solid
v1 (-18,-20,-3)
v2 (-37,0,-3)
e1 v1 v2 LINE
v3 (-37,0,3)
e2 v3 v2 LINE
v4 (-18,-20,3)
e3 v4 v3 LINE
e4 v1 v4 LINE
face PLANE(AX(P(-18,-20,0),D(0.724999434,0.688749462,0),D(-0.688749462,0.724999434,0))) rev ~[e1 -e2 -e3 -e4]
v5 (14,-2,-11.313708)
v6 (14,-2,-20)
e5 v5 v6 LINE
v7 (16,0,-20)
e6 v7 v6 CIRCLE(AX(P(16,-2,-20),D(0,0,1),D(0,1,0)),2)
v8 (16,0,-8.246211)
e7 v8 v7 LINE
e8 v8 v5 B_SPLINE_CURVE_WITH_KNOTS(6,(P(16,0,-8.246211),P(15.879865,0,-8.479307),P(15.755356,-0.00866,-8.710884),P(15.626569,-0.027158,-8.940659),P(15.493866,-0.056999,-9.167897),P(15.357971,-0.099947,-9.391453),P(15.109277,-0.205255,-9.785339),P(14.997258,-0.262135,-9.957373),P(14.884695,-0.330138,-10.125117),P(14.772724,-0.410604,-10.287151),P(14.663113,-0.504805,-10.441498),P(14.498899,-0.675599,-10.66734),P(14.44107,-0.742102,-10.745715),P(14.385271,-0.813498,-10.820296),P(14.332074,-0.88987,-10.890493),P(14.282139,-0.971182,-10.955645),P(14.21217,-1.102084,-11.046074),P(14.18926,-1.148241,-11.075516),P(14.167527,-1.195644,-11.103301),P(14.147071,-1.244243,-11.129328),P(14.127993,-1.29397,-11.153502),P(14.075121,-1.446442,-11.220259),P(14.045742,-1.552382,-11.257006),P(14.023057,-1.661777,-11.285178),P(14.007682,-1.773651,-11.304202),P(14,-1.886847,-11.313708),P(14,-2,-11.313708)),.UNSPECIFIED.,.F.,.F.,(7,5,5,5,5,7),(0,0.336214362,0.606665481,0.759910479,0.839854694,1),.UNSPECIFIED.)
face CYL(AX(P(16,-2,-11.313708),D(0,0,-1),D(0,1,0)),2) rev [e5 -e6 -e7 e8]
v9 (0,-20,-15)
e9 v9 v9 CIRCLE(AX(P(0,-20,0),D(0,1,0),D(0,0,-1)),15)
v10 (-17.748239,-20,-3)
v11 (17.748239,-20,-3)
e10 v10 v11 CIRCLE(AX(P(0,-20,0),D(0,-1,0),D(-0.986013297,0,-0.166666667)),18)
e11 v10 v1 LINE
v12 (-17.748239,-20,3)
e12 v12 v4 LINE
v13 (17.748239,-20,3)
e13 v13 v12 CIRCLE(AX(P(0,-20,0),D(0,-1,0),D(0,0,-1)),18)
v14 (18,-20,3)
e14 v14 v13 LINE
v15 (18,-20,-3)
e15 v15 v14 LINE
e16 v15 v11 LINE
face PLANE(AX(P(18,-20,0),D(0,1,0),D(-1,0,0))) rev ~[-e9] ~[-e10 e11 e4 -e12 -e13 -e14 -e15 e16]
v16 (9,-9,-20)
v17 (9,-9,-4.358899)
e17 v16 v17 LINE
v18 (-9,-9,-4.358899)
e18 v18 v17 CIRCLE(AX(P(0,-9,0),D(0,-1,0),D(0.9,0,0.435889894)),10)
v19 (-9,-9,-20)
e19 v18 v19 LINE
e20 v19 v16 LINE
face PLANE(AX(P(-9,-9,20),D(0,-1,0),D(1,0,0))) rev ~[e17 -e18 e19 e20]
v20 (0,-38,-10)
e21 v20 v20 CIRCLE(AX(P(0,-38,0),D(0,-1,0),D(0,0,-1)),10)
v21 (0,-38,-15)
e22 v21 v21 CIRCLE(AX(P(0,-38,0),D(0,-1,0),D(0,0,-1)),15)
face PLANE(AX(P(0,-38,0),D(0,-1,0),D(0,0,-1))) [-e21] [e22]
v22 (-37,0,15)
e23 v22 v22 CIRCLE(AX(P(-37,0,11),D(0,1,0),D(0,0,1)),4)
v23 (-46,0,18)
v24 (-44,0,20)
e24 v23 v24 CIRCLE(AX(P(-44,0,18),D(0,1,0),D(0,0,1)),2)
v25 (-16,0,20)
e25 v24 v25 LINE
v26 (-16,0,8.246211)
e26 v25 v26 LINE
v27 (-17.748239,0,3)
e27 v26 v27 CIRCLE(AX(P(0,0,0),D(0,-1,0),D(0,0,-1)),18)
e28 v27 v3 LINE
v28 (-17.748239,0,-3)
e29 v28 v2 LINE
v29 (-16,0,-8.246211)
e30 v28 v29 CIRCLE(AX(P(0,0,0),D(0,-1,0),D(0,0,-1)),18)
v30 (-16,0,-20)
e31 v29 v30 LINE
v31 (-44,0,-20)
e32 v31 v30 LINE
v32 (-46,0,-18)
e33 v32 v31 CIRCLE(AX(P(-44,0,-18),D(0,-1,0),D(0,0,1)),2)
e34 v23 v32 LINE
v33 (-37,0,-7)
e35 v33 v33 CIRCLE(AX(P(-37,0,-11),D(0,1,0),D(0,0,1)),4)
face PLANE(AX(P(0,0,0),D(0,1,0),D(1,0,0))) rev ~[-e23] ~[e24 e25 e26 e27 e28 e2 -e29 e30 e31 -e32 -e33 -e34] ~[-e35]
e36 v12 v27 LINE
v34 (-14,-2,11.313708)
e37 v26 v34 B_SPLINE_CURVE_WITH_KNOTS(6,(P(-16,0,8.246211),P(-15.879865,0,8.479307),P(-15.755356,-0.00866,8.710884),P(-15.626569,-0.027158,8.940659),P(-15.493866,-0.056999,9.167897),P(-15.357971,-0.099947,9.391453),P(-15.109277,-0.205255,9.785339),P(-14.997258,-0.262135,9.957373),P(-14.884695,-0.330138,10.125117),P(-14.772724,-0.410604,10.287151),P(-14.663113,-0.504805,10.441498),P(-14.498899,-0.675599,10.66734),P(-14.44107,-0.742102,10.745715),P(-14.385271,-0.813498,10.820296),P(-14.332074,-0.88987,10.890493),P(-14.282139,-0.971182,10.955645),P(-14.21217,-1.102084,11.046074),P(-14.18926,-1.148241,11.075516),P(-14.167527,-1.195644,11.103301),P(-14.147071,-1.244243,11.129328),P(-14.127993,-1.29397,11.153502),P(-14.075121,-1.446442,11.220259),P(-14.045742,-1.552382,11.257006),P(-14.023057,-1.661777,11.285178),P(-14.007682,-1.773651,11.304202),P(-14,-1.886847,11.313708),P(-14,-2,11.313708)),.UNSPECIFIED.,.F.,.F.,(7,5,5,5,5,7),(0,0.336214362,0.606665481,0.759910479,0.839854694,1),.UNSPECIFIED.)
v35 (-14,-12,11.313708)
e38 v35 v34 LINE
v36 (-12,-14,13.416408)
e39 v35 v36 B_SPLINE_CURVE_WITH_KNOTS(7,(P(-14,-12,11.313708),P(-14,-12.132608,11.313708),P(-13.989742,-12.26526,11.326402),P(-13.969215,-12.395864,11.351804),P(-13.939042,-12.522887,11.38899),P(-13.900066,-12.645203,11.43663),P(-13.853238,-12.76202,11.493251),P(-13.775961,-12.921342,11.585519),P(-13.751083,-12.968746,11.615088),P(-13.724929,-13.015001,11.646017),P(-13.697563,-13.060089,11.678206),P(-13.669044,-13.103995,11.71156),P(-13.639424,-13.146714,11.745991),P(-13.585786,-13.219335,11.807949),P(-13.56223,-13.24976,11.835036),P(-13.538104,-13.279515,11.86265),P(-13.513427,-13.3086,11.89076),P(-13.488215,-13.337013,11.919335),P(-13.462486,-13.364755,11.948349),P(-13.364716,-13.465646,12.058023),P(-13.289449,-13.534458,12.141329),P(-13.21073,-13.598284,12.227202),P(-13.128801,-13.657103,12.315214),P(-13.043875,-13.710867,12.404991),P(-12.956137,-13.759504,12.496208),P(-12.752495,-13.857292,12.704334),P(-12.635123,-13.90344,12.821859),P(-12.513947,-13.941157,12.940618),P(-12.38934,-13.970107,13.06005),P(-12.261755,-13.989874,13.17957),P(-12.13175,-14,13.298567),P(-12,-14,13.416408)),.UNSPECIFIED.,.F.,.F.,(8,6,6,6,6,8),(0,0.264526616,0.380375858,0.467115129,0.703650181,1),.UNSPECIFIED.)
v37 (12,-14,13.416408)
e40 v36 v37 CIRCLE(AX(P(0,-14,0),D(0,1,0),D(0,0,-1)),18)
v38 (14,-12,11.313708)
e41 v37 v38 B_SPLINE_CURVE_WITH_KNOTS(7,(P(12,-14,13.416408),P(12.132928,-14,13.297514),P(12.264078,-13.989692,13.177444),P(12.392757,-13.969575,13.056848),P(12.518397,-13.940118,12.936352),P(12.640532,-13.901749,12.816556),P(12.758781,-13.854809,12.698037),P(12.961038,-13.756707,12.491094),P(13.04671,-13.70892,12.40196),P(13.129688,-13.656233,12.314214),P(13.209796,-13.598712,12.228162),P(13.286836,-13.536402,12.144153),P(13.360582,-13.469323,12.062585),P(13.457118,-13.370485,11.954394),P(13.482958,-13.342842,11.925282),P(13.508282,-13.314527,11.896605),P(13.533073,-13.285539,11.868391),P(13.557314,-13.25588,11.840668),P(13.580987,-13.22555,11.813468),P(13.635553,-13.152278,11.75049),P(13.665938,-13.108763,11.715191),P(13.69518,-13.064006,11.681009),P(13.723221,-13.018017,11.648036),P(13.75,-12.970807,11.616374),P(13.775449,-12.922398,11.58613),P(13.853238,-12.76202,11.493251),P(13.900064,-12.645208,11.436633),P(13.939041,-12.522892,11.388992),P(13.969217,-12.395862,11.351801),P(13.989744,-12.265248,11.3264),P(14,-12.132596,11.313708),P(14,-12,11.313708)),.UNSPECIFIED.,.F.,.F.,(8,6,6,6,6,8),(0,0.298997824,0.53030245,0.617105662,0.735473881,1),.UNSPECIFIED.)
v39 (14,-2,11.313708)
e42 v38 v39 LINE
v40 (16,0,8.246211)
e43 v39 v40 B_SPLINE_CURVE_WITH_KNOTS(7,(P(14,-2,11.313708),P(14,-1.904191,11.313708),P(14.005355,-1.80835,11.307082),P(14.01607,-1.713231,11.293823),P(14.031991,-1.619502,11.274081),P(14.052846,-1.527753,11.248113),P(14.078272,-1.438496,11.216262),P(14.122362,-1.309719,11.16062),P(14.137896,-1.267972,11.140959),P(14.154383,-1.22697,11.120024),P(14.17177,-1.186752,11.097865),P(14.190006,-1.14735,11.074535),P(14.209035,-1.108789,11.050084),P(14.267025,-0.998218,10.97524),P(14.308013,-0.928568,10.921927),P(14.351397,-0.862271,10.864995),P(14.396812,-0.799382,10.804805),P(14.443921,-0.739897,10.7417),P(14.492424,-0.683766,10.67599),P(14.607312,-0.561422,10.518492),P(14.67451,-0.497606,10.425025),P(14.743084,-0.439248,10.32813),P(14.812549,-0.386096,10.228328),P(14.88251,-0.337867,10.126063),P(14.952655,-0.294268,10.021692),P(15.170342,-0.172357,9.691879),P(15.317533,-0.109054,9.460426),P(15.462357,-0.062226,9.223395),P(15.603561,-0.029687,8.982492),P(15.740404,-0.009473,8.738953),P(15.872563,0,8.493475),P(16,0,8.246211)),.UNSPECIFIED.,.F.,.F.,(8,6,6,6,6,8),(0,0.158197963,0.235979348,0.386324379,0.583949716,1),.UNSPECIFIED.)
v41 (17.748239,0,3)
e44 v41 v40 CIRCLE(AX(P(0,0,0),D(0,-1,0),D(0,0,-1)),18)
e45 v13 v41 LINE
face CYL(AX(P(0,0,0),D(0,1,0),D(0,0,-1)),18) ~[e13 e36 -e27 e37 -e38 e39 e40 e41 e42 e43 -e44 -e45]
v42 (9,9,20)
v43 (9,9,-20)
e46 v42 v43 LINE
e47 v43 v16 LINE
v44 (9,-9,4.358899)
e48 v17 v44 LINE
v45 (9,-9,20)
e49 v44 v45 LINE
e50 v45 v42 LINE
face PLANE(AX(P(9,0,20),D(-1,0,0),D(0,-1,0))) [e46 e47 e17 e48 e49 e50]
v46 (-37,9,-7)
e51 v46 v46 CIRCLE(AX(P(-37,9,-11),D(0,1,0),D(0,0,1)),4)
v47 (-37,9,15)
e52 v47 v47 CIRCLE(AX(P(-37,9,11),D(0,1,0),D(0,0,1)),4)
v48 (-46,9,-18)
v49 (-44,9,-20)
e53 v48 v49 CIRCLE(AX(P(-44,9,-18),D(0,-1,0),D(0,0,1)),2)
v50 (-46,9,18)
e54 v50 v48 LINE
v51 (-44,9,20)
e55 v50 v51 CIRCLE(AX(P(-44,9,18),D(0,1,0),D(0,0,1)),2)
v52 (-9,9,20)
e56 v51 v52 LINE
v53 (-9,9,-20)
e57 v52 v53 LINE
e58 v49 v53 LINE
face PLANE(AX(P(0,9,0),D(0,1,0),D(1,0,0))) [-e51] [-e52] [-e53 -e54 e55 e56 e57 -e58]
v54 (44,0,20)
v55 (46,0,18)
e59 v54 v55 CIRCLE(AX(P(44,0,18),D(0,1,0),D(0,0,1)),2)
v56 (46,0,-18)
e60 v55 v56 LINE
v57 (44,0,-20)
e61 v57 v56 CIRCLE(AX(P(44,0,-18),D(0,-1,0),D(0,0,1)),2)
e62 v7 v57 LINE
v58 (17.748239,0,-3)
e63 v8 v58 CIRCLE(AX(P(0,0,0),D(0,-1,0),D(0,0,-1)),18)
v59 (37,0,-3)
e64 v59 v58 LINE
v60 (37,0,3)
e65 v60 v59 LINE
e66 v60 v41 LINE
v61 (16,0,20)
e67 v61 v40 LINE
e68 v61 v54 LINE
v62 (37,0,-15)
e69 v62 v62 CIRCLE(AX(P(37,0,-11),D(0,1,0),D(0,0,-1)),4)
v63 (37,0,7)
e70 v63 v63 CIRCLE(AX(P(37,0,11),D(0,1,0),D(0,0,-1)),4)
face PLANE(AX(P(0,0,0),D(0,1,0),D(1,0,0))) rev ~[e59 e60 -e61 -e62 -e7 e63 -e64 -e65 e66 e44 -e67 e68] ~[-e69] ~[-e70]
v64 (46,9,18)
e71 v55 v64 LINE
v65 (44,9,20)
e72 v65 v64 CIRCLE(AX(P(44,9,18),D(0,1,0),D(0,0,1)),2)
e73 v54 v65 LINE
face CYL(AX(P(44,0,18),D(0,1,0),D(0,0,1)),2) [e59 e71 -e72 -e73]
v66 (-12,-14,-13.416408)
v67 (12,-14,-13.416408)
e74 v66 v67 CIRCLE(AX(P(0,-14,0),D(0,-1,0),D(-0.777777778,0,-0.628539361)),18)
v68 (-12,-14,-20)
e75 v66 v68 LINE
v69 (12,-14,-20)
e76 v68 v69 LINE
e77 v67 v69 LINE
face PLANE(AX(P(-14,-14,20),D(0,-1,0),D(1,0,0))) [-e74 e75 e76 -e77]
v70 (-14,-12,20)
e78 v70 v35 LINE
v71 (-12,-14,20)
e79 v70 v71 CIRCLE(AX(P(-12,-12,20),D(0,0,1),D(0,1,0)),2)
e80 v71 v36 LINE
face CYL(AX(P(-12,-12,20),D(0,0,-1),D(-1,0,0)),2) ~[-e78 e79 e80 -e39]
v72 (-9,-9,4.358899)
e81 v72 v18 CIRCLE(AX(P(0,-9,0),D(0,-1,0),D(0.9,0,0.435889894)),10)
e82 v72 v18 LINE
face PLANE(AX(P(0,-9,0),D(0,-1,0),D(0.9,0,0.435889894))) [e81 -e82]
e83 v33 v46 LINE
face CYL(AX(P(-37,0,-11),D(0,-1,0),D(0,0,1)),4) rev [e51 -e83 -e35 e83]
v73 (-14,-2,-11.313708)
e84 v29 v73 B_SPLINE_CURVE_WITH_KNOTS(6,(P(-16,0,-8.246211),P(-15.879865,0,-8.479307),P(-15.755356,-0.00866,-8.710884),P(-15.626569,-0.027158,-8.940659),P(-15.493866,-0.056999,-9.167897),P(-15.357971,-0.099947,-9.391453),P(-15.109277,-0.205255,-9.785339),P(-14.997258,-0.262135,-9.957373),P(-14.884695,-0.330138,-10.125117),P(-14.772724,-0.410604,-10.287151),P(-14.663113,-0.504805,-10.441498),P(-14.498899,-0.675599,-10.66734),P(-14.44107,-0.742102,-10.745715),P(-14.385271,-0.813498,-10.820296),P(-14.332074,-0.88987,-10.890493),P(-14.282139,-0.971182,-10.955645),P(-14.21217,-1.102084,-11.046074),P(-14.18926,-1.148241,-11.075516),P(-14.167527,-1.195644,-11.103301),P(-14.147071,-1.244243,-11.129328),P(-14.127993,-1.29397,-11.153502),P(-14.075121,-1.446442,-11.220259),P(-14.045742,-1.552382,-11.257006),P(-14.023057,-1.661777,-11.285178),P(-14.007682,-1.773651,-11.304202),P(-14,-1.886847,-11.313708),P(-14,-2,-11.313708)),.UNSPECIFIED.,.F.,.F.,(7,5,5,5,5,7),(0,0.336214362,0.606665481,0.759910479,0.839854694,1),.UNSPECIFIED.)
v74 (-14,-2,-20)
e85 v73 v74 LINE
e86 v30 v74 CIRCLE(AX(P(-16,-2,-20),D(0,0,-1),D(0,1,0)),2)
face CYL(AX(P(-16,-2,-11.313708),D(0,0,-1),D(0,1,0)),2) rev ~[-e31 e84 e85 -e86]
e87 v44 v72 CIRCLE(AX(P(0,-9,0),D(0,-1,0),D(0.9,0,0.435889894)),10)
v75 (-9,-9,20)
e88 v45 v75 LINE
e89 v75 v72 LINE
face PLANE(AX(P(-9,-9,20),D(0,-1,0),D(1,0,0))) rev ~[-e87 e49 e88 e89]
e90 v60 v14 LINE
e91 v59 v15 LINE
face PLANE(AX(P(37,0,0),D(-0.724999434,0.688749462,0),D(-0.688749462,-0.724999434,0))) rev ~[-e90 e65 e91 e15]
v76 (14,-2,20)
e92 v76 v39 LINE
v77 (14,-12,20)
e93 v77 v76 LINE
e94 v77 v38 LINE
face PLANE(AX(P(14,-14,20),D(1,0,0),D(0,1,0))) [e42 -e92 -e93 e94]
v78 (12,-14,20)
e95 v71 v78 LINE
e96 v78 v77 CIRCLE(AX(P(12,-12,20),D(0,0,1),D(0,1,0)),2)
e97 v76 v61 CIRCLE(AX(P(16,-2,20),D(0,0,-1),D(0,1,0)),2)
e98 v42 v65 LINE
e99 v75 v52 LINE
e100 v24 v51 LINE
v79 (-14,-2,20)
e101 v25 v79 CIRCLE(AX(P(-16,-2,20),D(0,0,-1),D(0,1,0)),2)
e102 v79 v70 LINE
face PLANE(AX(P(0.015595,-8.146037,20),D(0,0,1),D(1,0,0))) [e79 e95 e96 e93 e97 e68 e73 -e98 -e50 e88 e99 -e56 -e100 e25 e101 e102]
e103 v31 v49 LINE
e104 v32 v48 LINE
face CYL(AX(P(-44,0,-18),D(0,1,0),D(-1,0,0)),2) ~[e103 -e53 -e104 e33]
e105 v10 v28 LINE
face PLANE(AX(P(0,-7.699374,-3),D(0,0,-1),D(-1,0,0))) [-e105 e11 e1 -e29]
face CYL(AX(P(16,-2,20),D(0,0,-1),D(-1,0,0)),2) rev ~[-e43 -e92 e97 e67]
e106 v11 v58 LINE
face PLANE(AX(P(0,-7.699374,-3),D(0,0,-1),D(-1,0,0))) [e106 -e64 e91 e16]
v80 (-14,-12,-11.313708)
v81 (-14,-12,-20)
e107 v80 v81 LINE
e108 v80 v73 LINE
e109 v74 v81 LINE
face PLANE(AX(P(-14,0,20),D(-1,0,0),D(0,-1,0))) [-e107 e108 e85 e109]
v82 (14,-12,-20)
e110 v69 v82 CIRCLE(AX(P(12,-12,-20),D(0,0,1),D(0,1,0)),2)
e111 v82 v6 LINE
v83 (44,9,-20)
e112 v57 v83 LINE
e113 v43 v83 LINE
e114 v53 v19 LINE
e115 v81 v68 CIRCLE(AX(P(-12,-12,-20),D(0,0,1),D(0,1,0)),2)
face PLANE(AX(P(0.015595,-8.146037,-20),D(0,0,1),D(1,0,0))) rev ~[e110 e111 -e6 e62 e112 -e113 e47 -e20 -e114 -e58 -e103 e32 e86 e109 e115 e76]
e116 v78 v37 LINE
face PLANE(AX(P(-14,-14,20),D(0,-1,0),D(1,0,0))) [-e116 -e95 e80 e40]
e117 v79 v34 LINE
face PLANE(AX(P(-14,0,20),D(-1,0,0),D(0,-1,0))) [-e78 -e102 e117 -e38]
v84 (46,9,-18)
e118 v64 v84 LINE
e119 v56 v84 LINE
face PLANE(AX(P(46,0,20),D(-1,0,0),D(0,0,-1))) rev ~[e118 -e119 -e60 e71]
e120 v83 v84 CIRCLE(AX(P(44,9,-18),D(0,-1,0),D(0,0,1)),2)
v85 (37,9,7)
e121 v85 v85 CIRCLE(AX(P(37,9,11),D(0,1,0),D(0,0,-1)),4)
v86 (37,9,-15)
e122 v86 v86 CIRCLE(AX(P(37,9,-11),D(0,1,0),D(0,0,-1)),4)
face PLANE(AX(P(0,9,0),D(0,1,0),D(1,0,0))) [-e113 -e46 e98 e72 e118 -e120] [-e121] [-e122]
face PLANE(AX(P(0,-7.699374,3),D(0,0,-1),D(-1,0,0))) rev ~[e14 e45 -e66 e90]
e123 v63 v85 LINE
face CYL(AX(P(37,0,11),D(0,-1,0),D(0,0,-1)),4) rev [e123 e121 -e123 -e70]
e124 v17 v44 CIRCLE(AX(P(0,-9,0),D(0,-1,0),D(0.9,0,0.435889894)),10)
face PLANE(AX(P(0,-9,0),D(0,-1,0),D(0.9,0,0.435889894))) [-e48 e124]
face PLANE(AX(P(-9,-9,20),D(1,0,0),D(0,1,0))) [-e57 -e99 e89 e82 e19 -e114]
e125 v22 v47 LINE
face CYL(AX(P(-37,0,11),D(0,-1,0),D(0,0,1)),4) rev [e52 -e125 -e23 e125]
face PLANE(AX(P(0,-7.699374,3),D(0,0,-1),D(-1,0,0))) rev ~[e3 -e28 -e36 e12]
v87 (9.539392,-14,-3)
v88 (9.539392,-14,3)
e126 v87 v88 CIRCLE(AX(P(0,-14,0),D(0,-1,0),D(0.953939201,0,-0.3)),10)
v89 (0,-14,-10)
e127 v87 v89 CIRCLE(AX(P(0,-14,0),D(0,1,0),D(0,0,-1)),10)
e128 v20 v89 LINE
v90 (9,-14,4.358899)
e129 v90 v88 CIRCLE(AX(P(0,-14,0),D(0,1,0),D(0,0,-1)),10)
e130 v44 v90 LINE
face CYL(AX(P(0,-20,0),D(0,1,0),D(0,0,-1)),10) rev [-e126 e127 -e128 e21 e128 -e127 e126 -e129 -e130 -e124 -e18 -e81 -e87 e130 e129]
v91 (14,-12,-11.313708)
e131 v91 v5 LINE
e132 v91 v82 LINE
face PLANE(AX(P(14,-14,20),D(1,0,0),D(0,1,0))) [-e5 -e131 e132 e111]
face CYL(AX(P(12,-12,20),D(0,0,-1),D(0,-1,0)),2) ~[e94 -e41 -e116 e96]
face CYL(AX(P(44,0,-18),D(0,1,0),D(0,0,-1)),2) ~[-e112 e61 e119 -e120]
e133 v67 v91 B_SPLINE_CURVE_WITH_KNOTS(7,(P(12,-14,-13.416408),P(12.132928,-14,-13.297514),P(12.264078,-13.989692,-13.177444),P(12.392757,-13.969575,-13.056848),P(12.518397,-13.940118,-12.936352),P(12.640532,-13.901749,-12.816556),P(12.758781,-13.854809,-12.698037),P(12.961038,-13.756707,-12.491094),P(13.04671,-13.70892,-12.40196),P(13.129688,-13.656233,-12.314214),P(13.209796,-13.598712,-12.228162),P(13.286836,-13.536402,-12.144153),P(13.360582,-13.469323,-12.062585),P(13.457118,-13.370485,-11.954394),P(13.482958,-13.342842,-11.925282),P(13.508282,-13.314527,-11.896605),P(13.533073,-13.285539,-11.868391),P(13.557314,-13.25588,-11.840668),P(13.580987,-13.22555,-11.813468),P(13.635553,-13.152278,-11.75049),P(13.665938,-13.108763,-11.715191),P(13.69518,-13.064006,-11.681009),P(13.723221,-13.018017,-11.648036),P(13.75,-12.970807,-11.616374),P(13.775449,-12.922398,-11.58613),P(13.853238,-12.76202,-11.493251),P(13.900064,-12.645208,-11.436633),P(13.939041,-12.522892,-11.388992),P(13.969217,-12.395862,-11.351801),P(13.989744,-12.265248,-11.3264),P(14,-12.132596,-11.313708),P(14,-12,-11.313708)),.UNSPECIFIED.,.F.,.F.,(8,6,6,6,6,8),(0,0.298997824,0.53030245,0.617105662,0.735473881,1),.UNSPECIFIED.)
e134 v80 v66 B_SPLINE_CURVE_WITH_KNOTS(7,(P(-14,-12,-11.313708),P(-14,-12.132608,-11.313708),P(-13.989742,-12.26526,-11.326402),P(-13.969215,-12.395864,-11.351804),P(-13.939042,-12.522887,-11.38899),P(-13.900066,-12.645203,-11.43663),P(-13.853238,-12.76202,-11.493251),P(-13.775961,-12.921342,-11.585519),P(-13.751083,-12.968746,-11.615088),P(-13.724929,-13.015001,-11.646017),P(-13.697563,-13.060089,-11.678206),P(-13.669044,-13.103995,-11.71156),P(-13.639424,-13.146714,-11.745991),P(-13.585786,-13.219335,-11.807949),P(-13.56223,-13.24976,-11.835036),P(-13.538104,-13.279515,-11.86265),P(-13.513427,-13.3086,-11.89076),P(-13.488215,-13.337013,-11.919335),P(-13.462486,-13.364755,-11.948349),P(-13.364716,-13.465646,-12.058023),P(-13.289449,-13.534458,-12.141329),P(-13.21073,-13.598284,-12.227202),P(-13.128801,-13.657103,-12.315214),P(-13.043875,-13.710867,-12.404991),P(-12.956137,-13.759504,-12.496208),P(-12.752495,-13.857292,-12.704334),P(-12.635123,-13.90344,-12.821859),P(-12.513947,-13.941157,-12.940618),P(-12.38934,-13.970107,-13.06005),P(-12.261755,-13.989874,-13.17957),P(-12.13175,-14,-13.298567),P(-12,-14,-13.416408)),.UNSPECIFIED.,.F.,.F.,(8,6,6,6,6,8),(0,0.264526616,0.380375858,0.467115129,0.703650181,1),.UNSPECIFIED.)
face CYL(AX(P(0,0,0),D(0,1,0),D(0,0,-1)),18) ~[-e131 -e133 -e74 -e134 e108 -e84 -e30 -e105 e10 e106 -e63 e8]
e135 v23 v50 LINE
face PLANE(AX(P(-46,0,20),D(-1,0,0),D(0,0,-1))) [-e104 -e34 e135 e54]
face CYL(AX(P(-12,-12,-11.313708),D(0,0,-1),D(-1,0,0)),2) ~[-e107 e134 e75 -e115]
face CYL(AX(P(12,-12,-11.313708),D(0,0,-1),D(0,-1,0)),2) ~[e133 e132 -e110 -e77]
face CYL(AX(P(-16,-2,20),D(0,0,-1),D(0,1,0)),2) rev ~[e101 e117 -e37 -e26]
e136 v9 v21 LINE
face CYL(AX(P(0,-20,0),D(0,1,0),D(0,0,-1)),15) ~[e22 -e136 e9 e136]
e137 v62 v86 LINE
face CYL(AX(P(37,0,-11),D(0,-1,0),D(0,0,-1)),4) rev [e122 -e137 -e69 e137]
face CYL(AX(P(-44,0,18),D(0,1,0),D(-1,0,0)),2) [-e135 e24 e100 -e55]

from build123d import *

# Parameters (mm, degrees)
SKETCH1_W           = 92
SKETCH1_H           = 40
SKETCH1_R           = 4
BOSS_EXTRUDE2_DEPTH = 9
SKETCH3_R           = 18
SKETCH3_R_2         = 10
BOSS_EXTRUDE3_DEPTH = 20
SKETCH4_R           = 15
SKETCH4_R_2         = 10
BOSS_EXTRUDE4_DEPTH = 18
CUT_EXTRUDE1_REACH  = 73.833
SKETCH8_W           = 18
SKETCH8_H           = 18
CUT_EXTRUDE2_REACH  = 73.833
SKETCH9_W           = 28
SKETCH9_H           = 14
BOSS_EXTRUDE5_DEPTH = 40
BOSS_EXTRUDE9_DEPTH = 3
CUT_EXTRUDE5_REACH  = 73.833
SKETCH8_3_W         = 18
SKETCH8_3_H         = 18
CUT_EXTRUDE6_START  = -6
CUT_EXTRUDE6_DEPTH  = 6
CUT_EXTRUDE7_START  = -5
SKETCH19_R          = 10
CUT_EXTRUDE7_DEPTH  = 5
FILLET1_R           = 2
FILLET2_R           = 2


with BuildPart() as part:
    # Sketch1 → Boss-Extrude2 (new body)
    with BuildSketch(Plane(origin=(0, 0, 0), x_dir=(1, 0, 0), z_dir=(0, 1, 0))):
        Rectangle(SKETCH1_W, SKETCH1_H)
        with Locations(Location((-37, 11, 0), (0, 0, 270))):
            Circle(SKETCH1_R, mode=Mode.SUBTRACT)
        with Locations(Location((-37, -11, 0), (0, 0, 270))):
            Circle(SKETCH1_R, mode=Mode.SUBTRACT)
        with Locations(Location((37, -11, 0), (0, 0, 90))):
            Circle(SKETCH1_R, mode=Mode.SUBTRACT)
        with Locations(Location((37, 11, 0), (0, 0, 90))):
            Circle(SKETCH1_R, mode=Mode.SUBTRACT)
    extrude(amount=BOSS_EXTRUDE2_DEPTH)

    # Sketch3 → Boss-Extrude3 (add)
    with BuildSketch(Plane.XZ):
        with Locations(Location((0, 0, 0), (0, 0, 270))):
            Circle(SKETCH3_R)
        with Locations(Location((0, 0, 0), (0, 0, 270))):
            Circle(SKETCH3_R_2, mode=Mode.SUBTRACT)
    extrude(amount=BOSS_EXTRUDE3_DEPTH)

    # Sketch4 → Boss-Extrude4 (add)
    with BuildSketch(Plane.XZ.offset(20)):
        with Locations(Location((0, 0, 0), (0, 0, 270))):
            Circle(SKETCH4_R)
        with Locations(Location((0, 0, 0), (0, 0, 270))):
            Circle(SKETCH4_R_2, mode=Mode.SUBTRACT)
    extrude(amount=BOSS_EXTRUDE4_DEPTH)

    # Sketch8 → Cut-Extrude1 (cut, up to next)
    with BuildSketch(Plane.XY.offset(20), mode=Mode.PRIVATE) as cut_extrude1_sk1:
        Rectangle(SKETCH8_W, SKETCH8_H)
    cut_extrude1_tool1 = extrude(cut_extrude1_sk1.sketch, amount=-CUT_EXTRUDE1_REACH, mode=Mode.PRIVATE) & part.part
    add(cut_extrude1_tool1.solids().sort_by_distance((0, 0, 20))[0], mode=Mode.SUBTRACT)

    # Sketch9 → Cut-Extrude2 (cut, up to next)
    with BuildSketch(Plane.XY.offset(20), mode=Mode.PRIVATE) as cut_extrude2_sk1:
        with Locations((0, -7)):
            Rectangle(SKETCH9_W, SKETCH9_H)
    cut_extrude2_tool1 = extrude(cut_extrude2_sk1.sketch, amount=-CUT_EXTRUDE2_REACH, mode=Mode.PRIVATE) & part.part
    add(cut_extrude2_tool1.solids().sort_by_distance((0, -7, 20))[0], mode=Mode.SUBTRACT)

    # Sketch10 → Boss-Extrude5 (add)
    with BuildSketch(Plane.XY.offset(20)):
        Polygon((9, 0), (9, -9), (-8.881269958, -9), (-9, 0), (-14, 0), (-14, -14), (14, -14), (14, 0), align=None)
    extrude(amount=-BOSS_EXTRUDE5_DEPTH)

    # Sketch13 → Boss-Extrude9 (add, symmetric)
    with BuildSketch(Plane.XY):
        Polygon((-18, -20), (-37, 0), (-18, 0), (-9, 0), (9, 0), (18, 0), (37, 0), (18, -20), align=None)
    extrude(amount=BOSS_EXTRUDE9_DEPTH, both=True)

    # Sketch8<3> → Cut-Extrude5 (cut, up to next)
    with BuildSketch(Plane.XY.offset(20), mode=Mode.PRIVATE) as cut_extrude5_sk1:
        Rectangle(SKETCH8_3_W, SKETCH8_3_H)
    cut_extrude5_tool1 = extrude(cut_extrude5_sk1.sketch, amount=-CUT_EXTRUDE5_REACH, mode=Mode.PRIVATE) & part.part
    add(cut_extrude5_tool1.solids().sort_by_distance((0, 0, 20))[0], mode=Mode.SUBTRACT)

    # Sketch18 → Cut-Extrude6 (cut)
    with BuildSketch(Plane.XZ.offset(20).offset(CUT_EXTRUDE6_START)):
        with BuildLine():
            Line((9.539392014, 3), (-9.539392014, 3))
            ThreePointArc((-9.539392014, 3), (-10, 0), (-9.539392014, -3))
            Line((-9.539392014, -3), (9.539392014, -3))
            ThreePointArc((9.539392014, -3), (10, 0), (9.539392014, 3))
        make_face()
    extrude(amount=CUT_EXTRUDE6_DEPTH, mode=Mode.SUBTRACT)

    # Sketch19 → Cut-Extrude7 (cut)
    with BuildSketch(Plane.XZ.offset(14).offset(CUT_EXTRUDE7_START)):
        with Locations(Location((0, 0, 0), (0, 0, 25.841932763))):
            Circle(SKETCH19_R)
    extrude(amount=CUT_EXTRUDE7_DEPTH, mode=Mode.SUBTRACT)

    # Fillet1
    fillet1_edges = [part.edges().sort_by_distance(p)[0] for p in [
        (46, 4.5, 20),
        (-46, 4.5, 20),
        (-46, 4.5, -20),
        (46, 4.5, -20),
    ]]
    fillet(fillet1_edges, radius=FILLET1_R)

    # Fillet2
    fillet2_edges = [part.edges().sort_by_distance(p)[0] for p in [
        (14, -14, 15.656854249),
        (14, -14, -15.656854249),
        (14, 0, -15.656854249),
        (14, 0, 15.656854249),
        (-14, -14, 15.656854249),
        (-14, -14, -15.656854249),
        (-14, 0, -15.656854249),
        (-14, 0, 15.656854249),
    ]]
    fillet(fillet2_edges, radius=FILLET2_R)


solid = part.part
